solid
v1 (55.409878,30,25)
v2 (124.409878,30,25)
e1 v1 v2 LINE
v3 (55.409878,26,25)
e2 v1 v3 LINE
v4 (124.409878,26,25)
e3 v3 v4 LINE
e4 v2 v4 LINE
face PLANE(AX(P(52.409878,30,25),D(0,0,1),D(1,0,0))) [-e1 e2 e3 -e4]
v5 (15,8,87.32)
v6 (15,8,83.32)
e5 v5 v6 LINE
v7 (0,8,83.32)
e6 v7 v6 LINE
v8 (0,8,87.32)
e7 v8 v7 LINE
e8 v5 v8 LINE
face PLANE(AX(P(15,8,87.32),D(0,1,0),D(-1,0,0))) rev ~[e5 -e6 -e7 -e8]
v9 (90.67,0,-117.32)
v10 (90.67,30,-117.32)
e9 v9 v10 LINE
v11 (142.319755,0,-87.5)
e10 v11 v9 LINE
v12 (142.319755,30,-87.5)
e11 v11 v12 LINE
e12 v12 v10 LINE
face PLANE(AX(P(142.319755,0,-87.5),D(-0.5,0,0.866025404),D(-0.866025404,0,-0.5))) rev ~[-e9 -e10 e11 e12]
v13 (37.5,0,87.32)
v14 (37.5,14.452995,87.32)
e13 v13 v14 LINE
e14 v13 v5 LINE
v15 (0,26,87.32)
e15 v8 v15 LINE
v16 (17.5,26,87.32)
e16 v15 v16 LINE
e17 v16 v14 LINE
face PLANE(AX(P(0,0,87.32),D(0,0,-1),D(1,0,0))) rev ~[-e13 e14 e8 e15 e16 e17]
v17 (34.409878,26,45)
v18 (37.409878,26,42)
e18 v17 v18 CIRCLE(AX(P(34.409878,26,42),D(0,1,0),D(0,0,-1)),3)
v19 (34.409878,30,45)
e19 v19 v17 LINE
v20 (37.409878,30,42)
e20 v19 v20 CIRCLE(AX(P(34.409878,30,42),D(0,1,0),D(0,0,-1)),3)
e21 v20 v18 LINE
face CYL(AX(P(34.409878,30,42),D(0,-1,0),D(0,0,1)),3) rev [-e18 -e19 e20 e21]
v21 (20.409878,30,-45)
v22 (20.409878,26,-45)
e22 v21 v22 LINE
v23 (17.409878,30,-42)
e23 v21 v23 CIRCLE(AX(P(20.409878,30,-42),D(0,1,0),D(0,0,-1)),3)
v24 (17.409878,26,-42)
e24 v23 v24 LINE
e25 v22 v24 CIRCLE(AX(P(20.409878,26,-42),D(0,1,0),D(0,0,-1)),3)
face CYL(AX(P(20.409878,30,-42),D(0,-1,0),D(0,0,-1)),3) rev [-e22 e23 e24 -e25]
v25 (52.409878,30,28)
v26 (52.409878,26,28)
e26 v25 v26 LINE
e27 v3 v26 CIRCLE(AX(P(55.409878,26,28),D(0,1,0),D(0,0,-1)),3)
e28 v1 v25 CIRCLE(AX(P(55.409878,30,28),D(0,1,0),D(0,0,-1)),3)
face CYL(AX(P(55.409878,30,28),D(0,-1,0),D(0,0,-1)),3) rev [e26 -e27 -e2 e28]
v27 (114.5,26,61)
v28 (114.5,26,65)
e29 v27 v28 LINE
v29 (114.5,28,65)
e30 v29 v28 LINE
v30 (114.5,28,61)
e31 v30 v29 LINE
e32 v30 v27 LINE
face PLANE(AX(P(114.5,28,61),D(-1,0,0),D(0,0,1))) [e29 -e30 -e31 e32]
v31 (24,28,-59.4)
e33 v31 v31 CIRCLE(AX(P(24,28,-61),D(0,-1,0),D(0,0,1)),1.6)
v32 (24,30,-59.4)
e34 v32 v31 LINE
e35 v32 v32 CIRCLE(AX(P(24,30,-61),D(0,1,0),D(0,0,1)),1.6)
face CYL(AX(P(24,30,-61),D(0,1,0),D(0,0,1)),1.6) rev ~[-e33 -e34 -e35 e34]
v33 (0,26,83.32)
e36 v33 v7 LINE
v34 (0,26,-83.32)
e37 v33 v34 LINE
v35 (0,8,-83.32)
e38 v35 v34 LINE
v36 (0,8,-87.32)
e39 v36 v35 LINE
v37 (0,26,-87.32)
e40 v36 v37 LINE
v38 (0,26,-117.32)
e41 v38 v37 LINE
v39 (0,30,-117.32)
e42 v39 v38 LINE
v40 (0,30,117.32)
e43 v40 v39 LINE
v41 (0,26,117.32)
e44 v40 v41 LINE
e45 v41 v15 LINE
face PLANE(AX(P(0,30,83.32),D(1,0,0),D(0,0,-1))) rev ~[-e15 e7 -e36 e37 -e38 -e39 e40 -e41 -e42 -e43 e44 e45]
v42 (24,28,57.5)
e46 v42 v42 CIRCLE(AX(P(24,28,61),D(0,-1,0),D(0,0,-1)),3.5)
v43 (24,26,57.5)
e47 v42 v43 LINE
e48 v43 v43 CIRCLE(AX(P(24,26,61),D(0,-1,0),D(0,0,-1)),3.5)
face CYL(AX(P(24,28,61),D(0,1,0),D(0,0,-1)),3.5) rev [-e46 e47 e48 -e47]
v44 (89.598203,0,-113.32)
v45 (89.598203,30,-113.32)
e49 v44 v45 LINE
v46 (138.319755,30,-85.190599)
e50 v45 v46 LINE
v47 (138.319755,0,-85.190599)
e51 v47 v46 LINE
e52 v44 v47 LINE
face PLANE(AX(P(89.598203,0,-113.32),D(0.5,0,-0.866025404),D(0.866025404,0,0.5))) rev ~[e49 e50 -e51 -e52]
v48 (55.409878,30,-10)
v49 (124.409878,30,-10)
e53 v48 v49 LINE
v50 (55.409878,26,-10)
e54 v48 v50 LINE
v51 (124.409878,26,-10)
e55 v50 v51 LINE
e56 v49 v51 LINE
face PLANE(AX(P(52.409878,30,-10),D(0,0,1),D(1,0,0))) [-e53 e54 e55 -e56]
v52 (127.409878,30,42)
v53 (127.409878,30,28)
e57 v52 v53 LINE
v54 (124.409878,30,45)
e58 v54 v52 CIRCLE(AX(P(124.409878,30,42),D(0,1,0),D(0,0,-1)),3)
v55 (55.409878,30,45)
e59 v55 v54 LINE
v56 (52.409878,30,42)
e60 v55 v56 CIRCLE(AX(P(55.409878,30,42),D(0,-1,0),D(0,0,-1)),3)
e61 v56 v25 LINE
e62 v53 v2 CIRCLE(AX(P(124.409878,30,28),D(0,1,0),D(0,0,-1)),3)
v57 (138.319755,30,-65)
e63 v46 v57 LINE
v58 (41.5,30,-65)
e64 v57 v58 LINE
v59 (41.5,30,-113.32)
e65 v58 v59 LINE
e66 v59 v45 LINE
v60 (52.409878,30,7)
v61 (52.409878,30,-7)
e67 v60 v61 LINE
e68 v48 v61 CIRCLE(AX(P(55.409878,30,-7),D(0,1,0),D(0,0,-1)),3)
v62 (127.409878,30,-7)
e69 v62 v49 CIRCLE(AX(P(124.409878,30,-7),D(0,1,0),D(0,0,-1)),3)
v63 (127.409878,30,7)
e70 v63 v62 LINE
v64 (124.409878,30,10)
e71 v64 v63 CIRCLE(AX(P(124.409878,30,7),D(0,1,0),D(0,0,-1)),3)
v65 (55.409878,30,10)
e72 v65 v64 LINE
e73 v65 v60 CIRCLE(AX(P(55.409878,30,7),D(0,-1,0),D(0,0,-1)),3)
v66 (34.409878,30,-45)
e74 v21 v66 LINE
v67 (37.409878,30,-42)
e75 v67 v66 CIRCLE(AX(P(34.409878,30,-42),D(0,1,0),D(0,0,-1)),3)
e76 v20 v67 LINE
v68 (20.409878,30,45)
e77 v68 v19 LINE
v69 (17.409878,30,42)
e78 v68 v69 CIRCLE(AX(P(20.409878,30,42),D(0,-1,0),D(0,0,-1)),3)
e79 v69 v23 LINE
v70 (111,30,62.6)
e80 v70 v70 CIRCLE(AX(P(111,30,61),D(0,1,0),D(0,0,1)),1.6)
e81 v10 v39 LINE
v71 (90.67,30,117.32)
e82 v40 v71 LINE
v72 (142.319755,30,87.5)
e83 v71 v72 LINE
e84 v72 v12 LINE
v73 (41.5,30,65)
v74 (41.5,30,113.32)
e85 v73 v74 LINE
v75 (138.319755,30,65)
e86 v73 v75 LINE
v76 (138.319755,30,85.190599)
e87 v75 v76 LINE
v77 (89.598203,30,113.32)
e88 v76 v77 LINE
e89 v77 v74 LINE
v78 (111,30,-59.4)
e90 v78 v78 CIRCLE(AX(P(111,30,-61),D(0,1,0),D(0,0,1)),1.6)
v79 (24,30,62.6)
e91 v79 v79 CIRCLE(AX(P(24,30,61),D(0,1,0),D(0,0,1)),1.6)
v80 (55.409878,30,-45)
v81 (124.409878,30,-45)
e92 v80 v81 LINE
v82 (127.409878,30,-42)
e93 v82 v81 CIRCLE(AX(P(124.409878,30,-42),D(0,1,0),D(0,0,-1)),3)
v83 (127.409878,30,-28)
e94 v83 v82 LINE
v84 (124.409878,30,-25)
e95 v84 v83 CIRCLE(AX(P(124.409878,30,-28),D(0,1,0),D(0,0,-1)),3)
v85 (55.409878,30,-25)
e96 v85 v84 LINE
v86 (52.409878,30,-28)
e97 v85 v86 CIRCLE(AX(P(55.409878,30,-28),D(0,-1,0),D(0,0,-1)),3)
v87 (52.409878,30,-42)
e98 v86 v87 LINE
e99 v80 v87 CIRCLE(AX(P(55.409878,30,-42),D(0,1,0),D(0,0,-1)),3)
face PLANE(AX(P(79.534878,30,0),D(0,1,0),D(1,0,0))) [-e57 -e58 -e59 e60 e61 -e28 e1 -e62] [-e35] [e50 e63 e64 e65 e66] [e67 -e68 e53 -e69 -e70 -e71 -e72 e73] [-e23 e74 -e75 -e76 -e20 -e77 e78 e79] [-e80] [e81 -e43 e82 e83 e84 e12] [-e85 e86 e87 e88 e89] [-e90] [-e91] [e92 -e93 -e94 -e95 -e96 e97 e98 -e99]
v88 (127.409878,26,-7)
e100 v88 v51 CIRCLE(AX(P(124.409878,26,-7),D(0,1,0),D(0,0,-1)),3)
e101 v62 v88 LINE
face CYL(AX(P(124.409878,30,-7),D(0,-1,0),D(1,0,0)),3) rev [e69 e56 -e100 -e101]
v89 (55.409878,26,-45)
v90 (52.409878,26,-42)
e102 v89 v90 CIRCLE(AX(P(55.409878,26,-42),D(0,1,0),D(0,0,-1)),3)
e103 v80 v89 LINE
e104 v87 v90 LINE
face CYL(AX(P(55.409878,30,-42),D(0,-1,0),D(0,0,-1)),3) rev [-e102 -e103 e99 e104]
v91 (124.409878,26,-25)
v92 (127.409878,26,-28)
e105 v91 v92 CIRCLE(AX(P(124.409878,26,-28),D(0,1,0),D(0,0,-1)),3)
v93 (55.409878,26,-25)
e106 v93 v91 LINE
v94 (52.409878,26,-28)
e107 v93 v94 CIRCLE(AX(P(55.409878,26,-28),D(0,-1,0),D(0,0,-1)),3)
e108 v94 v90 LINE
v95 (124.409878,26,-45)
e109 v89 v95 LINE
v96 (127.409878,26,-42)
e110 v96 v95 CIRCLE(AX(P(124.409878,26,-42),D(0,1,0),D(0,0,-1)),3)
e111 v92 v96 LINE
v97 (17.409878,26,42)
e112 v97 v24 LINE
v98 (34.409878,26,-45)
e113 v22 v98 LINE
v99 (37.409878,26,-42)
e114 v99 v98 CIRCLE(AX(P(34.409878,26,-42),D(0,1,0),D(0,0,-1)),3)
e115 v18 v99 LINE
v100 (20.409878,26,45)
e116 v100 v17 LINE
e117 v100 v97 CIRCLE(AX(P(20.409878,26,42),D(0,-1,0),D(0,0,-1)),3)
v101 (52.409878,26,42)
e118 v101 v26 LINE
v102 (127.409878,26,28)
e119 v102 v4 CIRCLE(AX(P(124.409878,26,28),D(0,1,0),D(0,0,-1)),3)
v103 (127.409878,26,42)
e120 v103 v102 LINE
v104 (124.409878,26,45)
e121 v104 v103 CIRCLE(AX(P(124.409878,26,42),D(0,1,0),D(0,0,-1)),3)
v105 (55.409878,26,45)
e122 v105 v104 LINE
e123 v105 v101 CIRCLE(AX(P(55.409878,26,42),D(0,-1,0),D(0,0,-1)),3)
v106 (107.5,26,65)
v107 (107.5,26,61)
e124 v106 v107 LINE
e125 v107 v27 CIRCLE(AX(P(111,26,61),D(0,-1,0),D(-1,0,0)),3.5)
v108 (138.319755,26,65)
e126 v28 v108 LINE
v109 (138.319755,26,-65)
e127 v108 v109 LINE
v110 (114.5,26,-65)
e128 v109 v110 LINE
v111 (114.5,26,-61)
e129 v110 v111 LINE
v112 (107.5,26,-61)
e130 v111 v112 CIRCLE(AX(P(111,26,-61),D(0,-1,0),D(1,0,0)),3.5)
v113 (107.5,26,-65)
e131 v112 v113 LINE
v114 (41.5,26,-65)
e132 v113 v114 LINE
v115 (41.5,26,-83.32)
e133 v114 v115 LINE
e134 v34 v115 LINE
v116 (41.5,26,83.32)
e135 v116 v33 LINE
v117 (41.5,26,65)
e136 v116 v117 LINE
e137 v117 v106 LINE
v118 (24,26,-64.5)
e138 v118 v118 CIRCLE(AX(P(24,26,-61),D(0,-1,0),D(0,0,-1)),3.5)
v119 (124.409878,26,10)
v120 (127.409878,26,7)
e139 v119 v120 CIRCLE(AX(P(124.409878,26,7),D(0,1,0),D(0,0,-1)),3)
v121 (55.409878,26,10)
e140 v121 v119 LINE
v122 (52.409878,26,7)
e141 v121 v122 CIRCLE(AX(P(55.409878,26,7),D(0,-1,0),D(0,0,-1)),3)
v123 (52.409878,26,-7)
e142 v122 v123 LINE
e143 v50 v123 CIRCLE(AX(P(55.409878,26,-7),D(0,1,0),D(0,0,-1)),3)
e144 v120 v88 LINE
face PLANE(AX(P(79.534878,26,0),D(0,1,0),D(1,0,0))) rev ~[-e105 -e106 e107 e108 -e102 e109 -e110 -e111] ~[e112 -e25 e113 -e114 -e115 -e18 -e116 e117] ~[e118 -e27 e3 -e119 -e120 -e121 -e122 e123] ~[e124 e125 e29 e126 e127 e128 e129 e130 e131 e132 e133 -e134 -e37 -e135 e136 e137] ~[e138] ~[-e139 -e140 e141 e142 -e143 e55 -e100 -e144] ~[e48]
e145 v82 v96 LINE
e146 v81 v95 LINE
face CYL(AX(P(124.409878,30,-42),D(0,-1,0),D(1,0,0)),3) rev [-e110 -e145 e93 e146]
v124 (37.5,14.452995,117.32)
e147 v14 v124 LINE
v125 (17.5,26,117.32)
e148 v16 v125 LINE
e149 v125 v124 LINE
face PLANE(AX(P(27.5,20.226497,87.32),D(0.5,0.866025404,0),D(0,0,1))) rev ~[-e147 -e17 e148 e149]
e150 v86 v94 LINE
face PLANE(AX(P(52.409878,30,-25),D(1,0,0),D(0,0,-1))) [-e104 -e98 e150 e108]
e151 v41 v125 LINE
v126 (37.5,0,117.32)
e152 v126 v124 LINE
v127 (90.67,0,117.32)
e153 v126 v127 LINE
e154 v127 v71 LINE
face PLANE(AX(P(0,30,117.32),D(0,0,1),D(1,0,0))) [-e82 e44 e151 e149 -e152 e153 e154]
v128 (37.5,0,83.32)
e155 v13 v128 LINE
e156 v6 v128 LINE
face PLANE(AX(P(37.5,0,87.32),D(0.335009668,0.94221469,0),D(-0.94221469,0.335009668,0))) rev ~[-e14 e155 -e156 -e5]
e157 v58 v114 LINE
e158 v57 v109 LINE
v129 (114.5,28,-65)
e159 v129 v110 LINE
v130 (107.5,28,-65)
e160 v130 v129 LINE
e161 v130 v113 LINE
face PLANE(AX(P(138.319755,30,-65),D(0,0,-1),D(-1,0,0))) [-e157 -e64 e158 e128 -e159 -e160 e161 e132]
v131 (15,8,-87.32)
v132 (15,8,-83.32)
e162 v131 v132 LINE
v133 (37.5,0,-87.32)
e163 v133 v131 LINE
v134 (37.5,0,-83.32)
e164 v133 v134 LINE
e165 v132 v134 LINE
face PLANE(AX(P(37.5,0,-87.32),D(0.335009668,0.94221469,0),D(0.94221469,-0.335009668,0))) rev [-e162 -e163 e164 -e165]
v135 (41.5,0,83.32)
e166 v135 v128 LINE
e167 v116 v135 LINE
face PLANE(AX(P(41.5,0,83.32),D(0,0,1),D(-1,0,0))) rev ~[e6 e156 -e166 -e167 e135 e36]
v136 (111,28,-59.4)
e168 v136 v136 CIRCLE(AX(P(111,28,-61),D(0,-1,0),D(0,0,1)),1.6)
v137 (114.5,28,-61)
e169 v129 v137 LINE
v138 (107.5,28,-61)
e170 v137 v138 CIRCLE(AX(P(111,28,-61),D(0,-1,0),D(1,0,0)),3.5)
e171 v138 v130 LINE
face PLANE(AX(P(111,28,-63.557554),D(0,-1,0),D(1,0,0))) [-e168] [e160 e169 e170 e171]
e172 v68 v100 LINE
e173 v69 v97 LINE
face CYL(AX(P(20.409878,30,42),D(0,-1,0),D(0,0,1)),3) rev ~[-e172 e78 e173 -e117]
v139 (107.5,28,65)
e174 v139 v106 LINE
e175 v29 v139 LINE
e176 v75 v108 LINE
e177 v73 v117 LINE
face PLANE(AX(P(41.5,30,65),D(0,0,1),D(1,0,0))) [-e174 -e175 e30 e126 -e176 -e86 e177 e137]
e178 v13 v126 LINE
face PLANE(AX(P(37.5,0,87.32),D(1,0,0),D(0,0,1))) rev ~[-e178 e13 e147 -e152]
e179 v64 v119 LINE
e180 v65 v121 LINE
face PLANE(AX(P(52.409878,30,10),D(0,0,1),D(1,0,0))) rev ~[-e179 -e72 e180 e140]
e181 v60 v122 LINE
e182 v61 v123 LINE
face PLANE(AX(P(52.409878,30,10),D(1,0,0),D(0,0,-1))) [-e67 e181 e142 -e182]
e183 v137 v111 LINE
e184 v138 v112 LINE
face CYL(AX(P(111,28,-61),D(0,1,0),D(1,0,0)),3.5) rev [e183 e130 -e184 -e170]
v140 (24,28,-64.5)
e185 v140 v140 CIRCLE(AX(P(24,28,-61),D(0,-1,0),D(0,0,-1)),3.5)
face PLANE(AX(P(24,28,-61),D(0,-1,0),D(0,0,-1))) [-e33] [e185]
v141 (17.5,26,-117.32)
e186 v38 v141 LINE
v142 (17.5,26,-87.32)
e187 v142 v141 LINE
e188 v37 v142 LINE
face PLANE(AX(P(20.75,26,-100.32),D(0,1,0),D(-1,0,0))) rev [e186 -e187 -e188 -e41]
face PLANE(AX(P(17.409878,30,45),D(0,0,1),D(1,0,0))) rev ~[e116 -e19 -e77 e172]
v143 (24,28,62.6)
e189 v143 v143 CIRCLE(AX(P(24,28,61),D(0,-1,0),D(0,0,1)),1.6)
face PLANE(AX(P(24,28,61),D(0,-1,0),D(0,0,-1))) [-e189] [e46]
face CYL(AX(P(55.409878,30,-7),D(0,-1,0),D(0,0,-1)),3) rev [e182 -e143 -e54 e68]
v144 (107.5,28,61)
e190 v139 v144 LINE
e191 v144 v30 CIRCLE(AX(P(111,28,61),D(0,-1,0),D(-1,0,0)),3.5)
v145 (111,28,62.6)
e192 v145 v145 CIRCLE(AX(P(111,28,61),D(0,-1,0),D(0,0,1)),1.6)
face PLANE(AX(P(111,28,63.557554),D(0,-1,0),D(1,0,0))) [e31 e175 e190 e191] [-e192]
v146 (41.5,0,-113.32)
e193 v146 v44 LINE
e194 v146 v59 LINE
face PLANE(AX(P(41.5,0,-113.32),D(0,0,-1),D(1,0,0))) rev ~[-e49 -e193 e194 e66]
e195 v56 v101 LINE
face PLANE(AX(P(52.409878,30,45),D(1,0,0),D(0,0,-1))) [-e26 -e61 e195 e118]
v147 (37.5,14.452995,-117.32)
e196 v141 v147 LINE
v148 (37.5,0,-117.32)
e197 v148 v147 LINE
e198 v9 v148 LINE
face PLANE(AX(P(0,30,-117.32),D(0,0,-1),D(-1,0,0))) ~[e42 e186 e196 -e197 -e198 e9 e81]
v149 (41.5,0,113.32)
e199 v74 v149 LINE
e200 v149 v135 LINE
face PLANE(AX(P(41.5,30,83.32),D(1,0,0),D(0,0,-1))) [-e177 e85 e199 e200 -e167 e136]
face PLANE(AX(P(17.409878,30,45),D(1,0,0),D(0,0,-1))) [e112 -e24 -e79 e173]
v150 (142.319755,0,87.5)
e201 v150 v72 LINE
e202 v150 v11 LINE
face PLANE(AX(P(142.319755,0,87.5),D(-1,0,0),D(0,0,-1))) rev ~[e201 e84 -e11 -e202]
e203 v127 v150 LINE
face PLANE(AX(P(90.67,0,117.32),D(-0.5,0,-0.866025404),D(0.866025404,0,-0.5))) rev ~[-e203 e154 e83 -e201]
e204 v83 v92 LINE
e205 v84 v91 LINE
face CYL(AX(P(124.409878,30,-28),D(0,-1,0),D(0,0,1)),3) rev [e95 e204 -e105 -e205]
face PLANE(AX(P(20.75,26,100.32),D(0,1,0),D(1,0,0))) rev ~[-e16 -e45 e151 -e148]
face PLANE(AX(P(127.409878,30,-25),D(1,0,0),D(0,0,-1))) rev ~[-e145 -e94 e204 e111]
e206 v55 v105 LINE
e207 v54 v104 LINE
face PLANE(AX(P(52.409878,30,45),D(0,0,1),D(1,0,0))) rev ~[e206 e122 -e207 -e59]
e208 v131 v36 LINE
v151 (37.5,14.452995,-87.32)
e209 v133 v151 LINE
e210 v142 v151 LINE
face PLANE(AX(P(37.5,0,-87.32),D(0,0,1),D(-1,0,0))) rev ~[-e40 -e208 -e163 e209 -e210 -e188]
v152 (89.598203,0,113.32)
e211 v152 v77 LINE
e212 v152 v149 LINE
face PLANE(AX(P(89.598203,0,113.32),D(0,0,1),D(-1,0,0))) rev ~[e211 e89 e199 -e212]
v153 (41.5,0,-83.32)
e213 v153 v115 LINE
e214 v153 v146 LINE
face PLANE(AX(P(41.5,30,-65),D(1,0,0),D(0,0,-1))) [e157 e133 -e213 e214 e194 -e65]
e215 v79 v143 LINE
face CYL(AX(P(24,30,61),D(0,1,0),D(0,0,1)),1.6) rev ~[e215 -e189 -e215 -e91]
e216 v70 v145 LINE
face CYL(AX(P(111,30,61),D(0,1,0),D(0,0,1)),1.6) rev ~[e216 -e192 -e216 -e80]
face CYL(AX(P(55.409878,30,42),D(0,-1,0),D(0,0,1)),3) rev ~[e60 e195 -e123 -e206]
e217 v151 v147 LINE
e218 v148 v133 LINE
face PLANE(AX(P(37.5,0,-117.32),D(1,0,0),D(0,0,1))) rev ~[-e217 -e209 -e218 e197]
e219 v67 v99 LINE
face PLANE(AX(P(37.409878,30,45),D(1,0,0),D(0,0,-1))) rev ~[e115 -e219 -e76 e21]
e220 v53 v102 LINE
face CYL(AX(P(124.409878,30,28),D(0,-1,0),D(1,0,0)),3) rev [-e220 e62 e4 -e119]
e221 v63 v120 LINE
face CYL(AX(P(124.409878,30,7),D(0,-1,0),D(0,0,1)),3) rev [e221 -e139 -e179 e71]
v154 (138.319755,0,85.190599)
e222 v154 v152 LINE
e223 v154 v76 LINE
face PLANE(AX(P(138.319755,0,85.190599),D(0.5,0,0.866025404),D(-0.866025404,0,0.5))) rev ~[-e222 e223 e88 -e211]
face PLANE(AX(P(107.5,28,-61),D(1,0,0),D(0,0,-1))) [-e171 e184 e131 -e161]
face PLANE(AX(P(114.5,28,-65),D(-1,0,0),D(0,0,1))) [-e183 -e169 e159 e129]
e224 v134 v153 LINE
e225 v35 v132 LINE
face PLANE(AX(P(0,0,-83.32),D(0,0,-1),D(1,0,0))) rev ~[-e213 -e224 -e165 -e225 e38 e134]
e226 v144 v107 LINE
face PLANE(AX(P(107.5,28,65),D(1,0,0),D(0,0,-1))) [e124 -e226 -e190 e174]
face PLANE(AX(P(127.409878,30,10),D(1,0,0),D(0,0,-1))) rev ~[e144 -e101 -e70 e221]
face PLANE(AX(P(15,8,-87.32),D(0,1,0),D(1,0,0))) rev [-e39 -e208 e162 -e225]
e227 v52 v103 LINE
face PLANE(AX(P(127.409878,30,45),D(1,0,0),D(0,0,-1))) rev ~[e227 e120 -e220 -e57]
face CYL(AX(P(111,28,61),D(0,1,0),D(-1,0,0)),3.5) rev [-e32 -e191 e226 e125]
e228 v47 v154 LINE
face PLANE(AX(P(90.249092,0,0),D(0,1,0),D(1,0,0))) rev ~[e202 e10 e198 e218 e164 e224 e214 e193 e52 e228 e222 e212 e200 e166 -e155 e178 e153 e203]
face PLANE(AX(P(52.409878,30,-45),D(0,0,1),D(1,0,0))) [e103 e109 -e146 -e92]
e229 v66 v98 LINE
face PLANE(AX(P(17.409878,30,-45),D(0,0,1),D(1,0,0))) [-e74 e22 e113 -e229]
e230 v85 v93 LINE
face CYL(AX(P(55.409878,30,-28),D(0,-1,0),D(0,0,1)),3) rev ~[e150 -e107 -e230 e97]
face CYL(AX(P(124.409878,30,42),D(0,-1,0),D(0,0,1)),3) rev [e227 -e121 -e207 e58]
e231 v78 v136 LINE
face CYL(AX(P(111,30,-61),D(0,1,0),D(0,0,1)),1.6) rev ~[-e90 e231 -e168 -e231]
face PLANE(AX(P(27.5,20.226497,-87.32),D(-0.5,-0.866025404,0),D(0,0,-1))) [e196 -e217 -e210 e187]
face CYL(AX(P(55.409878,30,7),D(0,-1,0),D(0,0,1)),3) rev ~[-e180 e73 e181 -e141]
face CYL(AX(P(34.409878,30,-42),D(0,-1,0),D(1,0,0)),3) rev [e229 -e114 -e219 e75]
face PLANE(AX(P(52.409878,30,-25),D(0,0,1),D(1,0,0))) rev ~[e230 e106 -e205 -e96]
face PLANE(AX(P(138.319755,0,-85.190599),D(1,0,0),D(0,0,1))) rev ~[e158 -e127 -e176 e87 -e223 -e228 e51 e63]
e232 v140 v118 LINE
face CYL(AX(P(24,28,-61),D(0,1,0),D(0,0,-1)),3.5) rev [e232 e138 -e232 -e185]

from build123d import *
from OCP.BRepFilletAPI import BRepFilletAPI_MakeChamfer

# Parameters (mm, degrees)
BOSS_EXTRUDE1_DEPTH = 30
CUT_EXTRUDE1_REACH  = 253.063
SKETCH10_W          = 41.5
SKETCH10_H          = 34
BOSS_EXTRUDE3_DEPTH = 4
CHAMFER4_SIZE       = 20
CHAMFER4_SIZE2      = 11.547005384
SKETCH11_W          = 20.75
SKETCH11_H          = 166.64
BOSS_EXTRUDE4_DEPTH = 4
SKETCH12_W          = 20.75
SKETCH12_H          = 18.32
BOSS_EXTRUDE5_DEPTH = 4
SKETCH13_W          = 75
SKETCH13_H          = 20
SKETCH13_W_2        = 20
SKETCH13_H_2        = 90
CUT_EXTRUDE2_DEPTH  = 4
FILLET1_R           = 3
CUT_EXTRUDE3_REACH  = 188.866
SKETCH15_R          = 1.6
CUT_EXTRUDE4_START  = -2
SKETCH16_R          = 3.5
SKETCH16_R_2        = 1.6
CUT_EXTRUDE4_DEPTH  = 2


with BuildPart() as part:
    # Sketch6 → Boss-Extrude1 (new body)
    with BuildSketch(Plane(origin=(0, 0, 0), x_dir=(1, 0, 0), z_dir=(0, 1, 0))):
        Polygon((0, -87.32), (37.5, -87.32), (37.5, -117.32), (90.67, -117.32), (142.319755082, -87.5), (142.319755082, 87.5), (90.67, 117.32), (37.5, 117.32), (37.5, 87.32), (0, 87.32), (0, 83.32), (41.5, 83.32), (41.5, 113.32), (89.59820323, 113.32), (138.319755082, 85.190598923), (138.319755082, -85.190598923), (89.59820323, -113.32), (41.5, -113.32), (41.5, -83.32), (0, -83.32), align=None)
    extrude(amount=BOSS_EXTRUDE1_DEPTH)

    # Sketch9 → Cut-Extrude1 (cut, up to next)
    with BuildSketch(Plane.XY.offset(87.32), mode=Mode.PRIVATE) as cut_extrude1_sk1:
        Polygon((37.5, 0), (15, 8), (0, 8), (0, 0), align=None)
    cut_extrude1_tool1 = extrude(cut_extrude1_sk1.sketch, amount=-CUT_EXTRUDE1_REACH, mode=Mode.PRIVATE) & part.part
    cut_extrude1 = cut_extrude1_tool1.solids().sort_by_distance((13.928571, 3.428571, 87.32))[0]
    add(cut_extrude1, mode=Mode.SUBTRACT)

    # Sketch10 → Boss-Extrude3 (add)
    with BuildSketch(Plane(origin=(0, 30, 0), x_dir=(1, 0, 0), z_dir=(0, 1, 0))):
        with Locations((20.75, -100.32)):
            Rectangle(SKETCH10_W, SKETCH10_H)
    boss_extrude3 = extrude(amount=-BOSS_EXTRUDE3_DEPTH)

    # Mirror1: Cut-Extrude1, Boss-Extrude3 across plane
    add(cut_extrude1.mirror(Plane.XY), mode=Mode.SUBTRACT)
    add(boss_extrude3.mirror(Plane.XY))

    # Chamfer4: one chamfer whose edges measure the first distance from different faces: ONE call of the kernel's chamfer builder (chamfer() names one face for all edges)
    chamfer4_edges_1 = [part.edges().sort_by_distance(p)[0] for p in [
        (37.5, 26, -102.32),
    ]]
    chamfer4_side_1 = [part.faces().sort_by_distance(p)[0] for p in [
        (18.75, 26, -102.32),
    ]]
    chamfer4_edges_2 = [part.edges().sort_by_distance(p)[0] for p in [
        (37.5, 26, 102.32),
    ]]
    chamfer4_side_2 = [part.faces().sort_by_distance(p)[0] for p in [
        (18.75, 26, 102.32),
    ]]
    chamfer4 = BRepFilletAPI_MakeChamfer(part.part.solid().wrapped)
    for e in chamfer4_edges_1:
        chamfer4.Add(CHAMFER4_SIZE, CHAMFER4_SIZE2, e.wrapped, chamfer4_side_1[0].wrapped)  # the first distance lies on this face
    for e in chamfer4_edges_2:
        chamfer4.Add(CHAMFER4_SIZE, CHAMFER4_SIZE2, e.wrapped, chamfer4_side_2[0].wrapped)  # the first distance lies on this face
    add(Compound.cast(chamfer4.Shape()), mode=Mode.REPLACE)

    # Sketch11 → Boss-Extrude4 (add)
    with BuildSketch(Plane(origin=(0, 30, 0), x_dir=(1, 0, 0), z_dir=(0, 1, 0))):
        with Locations((10.375, 0)):
            Rectangle(SKETCH11_W, SKETCH11_H)
    extrude(amount=-BOSS_EXTRUDE4_DEPTH)

    # Sketch12 → Boss-Extrude5 (add)
    with BuildSketch(Plane(origin=(0, 30, 0), x_dir=(1, 0, 0), z_dir=(0, 1, 0))):
        Polygon((41.5, 65), (20.75, 65), (20.75, -65), (41.5, -65), (138.319755082, -65), (138.319755082, 65), align=None)
        with Locations((31.125, -74.16)):
            Rectangle(SKETCH12_W, SKETCH12_H)
        with Locations((31.125, 74.16)):
            Rectangle(SKETCH12_W, SKETCH12_H)
    extrude(amount=-BOSS_EXTRUDE5_DEPTH)

    # Sketch13 → Cut-Extrude2 (cut)
    with BuildSketch(Plane(origin=(0, 30, 0), x_dir=(1, 0, 0), z_dir=(0, 1, 0))):
        with Locations((89.909877541, 35)):
            Rectangle(SKETCH13_W, SKETCH13_H)
        with Locations((89.909877541, 0)):
            Rectangle(SKETCH13_W, SKETCH13_H)
        with Locations((89.909877541, -35)):
            Rectangle(SKETCH13_W, SKETCH13_H)
        with Locations((27.409877541, 0)):
            Rectangle(SKETCH13_W_2, SKETCH13_H_2)
    extrude(amount=-CUT_EXTRUDE2_DEPTH, mode=Mode.SUBTRACT)

    # Fillet1
    fillet1_edges = [part.edges().sort_by_distance(p)[0] for p in [
        (37.409877541, 28, -45),
        (37.409877541, 28, 45),
        (17.409877541, 28, 45),
        (17.409877541, 28, -45),
        (52.409877541, 28, 45),
        (52.409877541, 28, 25),
        (127.409877541, 28, 25),
        (127.409877541, 28, 45),
        (52.409877541, 28, 10),
        (52.409877541, 28, -10),
        (127.409877541, 28, -10),
        (127.409877541, 28, 10),
        (52.409877541, 28, -25),
        (52.409877541, 28, -45),
        (127.409877541, 28, -45),
        (127.409877541, 28, -25),
    ]]
    fillet(fillet1_edges, radius=FILLET1_R)

    # Sketch15 → Cut-Extrude3 (cut, up to next)
    with BuildSketch(Plane(origin=(0, 30, 0), x_dir=(1, 0, 0), z_dir=(0, 1, 0)), mode=Mode.PRIVATE) as cut_extrude3_sk1:
        with Locations(Location((111, 61, 0), (0, 0, 270))):
            Circle(SKETCH15_R)
    cut_extrude3_tool1 = extrude(cut_extrude3_sk1.sketch, amount=-CUT_EXTRUDE3_REACH, mode=Mode.PRIVATE) & part.part
    # Sketch15 → Cut-Extrude3 (cut, up to next)
    with BuildSketch(Plane(origin=(0, 30, 0), x_dir=(1, 0, 0), z_dir=(0, 1, 0)), mode=Mode.PRIVATE) as cut_extrude3_sk2:
        with Locations(Location((111, -61, 0), (0, 0, 270))):
            Circle(SKETCH15_R)
    cut_extrude3_tool2 = extrude(cut_extrude3_sk2.sketch, amount=-CUT_EXTRUDE3_REACH, mode=Mode.PRIVATE) & part.part
    # Sketch15 → Cut-Extrude3 (cut, up to next)
    with BuildSketch(Plane(origin=(0, 30, 0), x_dir=(1, 0, 0), z_dir=(0, 1, 0)), mode=Mode.PRIVATE) as cut_extrude3_sk3:
        with Locations(Location((24, -61, 0), (0, 0, 270))):
            Circle(SKETCH15_R)
    cut_extrude3_tool3 = extrude(cut_extrude3_sk3.sketch, amount=-CUT_EXTRUDE3_REACH, mode=Mode.PRIVATE) & part.part
    # Sketch15 → Cut-Extrude3 (cut, up to next)
    with BuildSketch(Plane(origin=(0, 30, 0), x_dir=(1, 0, 0), z_dir=(0, 1, 0)), mode=Mode.PRIVATE) as cut_extrude3_sk4:
        with Locations(Location((24, 61, 0), (0, 0, 270))):
            Circle(SKETCH15_R)
    cut_extrude3_tool4 = extrude(cut_extrude3_sk4.sketch, amount=-CUT_EXTRUDE3_REACH, mode=Mode.PRIVATE) & part.part
    add(cut_extrude3_tool1.solids().sort_by_distance((111, 30, -61))[0], mode=Mode.SUBTRACT)
    add(cut_extrude3_tool2.solids().sort_by_distance((111, 30, 61))[0], mode=Mode.SUBTRACT)
    add(cut_extrude3_tool3.solids().sort_by_distance((24, 30, 61))[0], mode=Mode.SUBTRACT)
    add(cut_extrude3_tool4.solids().sort_by_distance((24, 30, -61))[0], mode=Mode.SUBTRACT)

    # Sketch16 → Cut-Extrude4 (cut)
    # profile 1 of 12: a face of its own
    with BuildSketch(Plane.XZ.offset(-26).offset(CUT_EXTRUDE4_START)):
        with Locations(Location((24, 61, 0), (0, 0, 270))):
            Circle(SKETCH16_R)
        with Locations(Location((24, 61, 0), (0, 0, 90))):
            Circle(SKETCH16_R_2, mode=Mode.SUBTRACT)
    # profile 2 of 12: a face of its own
    with BuildSketch(Plane.XZ.offset(-26).offset(CUT_EXTRUDE4_START)):
        with BuildLine():
            ThreePointArc((109.4, 61), (111, 62.6), (112.6, 61))
            Line((112.6, 61), (114.5, 61))
            ThreePointArc((114.5, 61), (111, 64.5), (107.5, 61))
            Line((107.5, 61), (109.4, 61))
        make_face()
    # profile 3 of 12: a face of its own
    with BuildSketch(Plane.XZ.offset(-26).offset(CUT_EXTRUDE4_START)):
        with BuildLine():
            Line((114.5, 61), (112.6, 61))
            ThreePointArc((112.6, 61), (111, 59.4), (109.4, 61))
            Line((109.4, 61), (107.5, 61))
            ThreePointArc((107.5, 61), (111, 57.5), (114.5, 61))
        make_face()
    # profile 4 of 12: a face of its own
    with BuildSketch(Plane.XZ.offset(-26).offset(CUT_EXTRUDE4_START)):
        with BuildLine():
            ThreePointArc((109.4, 61), (111, 62.6), (112.6, 61))
            Line((112.6, 61), (114.5, 61))
            ThreePointArc((114.5, 61), (111, 64.5), (107.5, 61))
            Line((107.5, 61), (109.4, 61))
        make_face()
    # profile 5 of 12: a face of its own
    with BuildSketch(Plane.XZ.offset(-26).offset(CUT_EXTRUDE4_START)):
        with BuildLine():
            Line((114.5, 61), (112.6, 61))
            ThreePointArc((112.6, 61), (111, 59.4), (109.4, 61))
            Line((109.4, 61), (107.5, 61))
            ThreePointArc((107.5, 61), (111, 57.5), (114.5, 61))
        make_face()
    # profile 6 of 12: a face of its own
    with BuildSketch(Plane.XZ.offset(-26).offset(CUT_EXTRUDE4_START)):
        with BuildLine():
            ThreePointArc((107.5, 61), (111, 64.5), (114.5, 61))
            Line((114.5, 61), (114.5, 65))
            Line((114.5, 65), (107.5, 65))
            Line((107.5, 65), (107.5, 61))
        make_face()
    # profile 7 of 12: a face of its own
    with BuildSketch(Plane.XZ.offset(-26).offset(CUT_EXTRUDE4_START)):
        with BuildLine():
            Line((114.5, -65), (114.5, -61))
            ThreePointArc((114.5, -61), (111, -64.5), (107.5, -61))
            Line((107.5, -61), (107.5, -65))
            Line((107.5, -65), (114.5, -65))
        make_face()
    # profile 8 of 12: a face of its own
    with BuildSketch(Plane.XZ.offset(-26).offset(CUT_EXTRUDE4_START)):
        with BuildLine():
            ThreePointArc((109.4, -61), (111, -59.4), (112.6, -61))
            Line((112.6, -61), (114.5, -61))
            ThreePointArc((114.5, -61), (111, -57.5), (107.5, -61))
            Line((107.5, -61), (109.4, -61))
        make_face()
    # profile 9 of 12: a face of its own
    with BuildSketch(Plane.XZ.offset(-26).offset(CUT_EXTRUDE4_START)):
        with BuildLine():
            Line((114.5, -61), (112.6, -61))
            ThreePointArc((112.6, -61), (111, -62.6), (109.4, -61))
            Line((109.4, -61), (107.5, -61))
            ThreePointArc((107.5, -61), (111, -64.5), (114.5, -61))
        make_face()
    # profile 10 of 12: a face of its own
    with BuildSketch(Plane.XZ.offset(-26).offset(CUT_EXTRUDE4_START)):
        with BuildLine():
            ThreePointArc((109.4, -61), (111, -59.4), (112.6, -61))
            Line((112.6, -61), (114.5, -61))
            ThreePointArc((114.5, -61), (111, -57.5), (107.5, -61))
            Line((107.5, -61), (109.4, -61))
        make_face()
    # profile 11 of 12: a face of its own
    with BuildSketch(Plane.XZ.offset(-26).offset(CUT_EXTRUDE4_START)):
        with BuildLine():
            Line((114.5, -61), (112.6, -61))
            ThreePointArc((112.6, -61), (111, -62.6), (109.4, -61))
            Line((109.4, -61), (107.5, -61))
            ThreePointArc((107.5, -61), (111, -64.5), (114.5, -61))
        make_face()
    # profile 12 of 12: a face of its own
    with BuildSketch(Plane.XZ.offset(-26).offset(CUT_EXTRUDE4_START)):
        with Locations(Location((24, -61, 0), (0, 0, 270))):
            Circle(SKETCH16_R)
        with Locations(Location((24, -61, 0), (0, 0, 90))):
            Circle(SKETCH16_R_2, mode=Mode.SUBTRACT)
    extrude(amount=CUT_EXTRUDE4_DEPTH, mode=Mode.SUBTRACT)


solid = part.part
